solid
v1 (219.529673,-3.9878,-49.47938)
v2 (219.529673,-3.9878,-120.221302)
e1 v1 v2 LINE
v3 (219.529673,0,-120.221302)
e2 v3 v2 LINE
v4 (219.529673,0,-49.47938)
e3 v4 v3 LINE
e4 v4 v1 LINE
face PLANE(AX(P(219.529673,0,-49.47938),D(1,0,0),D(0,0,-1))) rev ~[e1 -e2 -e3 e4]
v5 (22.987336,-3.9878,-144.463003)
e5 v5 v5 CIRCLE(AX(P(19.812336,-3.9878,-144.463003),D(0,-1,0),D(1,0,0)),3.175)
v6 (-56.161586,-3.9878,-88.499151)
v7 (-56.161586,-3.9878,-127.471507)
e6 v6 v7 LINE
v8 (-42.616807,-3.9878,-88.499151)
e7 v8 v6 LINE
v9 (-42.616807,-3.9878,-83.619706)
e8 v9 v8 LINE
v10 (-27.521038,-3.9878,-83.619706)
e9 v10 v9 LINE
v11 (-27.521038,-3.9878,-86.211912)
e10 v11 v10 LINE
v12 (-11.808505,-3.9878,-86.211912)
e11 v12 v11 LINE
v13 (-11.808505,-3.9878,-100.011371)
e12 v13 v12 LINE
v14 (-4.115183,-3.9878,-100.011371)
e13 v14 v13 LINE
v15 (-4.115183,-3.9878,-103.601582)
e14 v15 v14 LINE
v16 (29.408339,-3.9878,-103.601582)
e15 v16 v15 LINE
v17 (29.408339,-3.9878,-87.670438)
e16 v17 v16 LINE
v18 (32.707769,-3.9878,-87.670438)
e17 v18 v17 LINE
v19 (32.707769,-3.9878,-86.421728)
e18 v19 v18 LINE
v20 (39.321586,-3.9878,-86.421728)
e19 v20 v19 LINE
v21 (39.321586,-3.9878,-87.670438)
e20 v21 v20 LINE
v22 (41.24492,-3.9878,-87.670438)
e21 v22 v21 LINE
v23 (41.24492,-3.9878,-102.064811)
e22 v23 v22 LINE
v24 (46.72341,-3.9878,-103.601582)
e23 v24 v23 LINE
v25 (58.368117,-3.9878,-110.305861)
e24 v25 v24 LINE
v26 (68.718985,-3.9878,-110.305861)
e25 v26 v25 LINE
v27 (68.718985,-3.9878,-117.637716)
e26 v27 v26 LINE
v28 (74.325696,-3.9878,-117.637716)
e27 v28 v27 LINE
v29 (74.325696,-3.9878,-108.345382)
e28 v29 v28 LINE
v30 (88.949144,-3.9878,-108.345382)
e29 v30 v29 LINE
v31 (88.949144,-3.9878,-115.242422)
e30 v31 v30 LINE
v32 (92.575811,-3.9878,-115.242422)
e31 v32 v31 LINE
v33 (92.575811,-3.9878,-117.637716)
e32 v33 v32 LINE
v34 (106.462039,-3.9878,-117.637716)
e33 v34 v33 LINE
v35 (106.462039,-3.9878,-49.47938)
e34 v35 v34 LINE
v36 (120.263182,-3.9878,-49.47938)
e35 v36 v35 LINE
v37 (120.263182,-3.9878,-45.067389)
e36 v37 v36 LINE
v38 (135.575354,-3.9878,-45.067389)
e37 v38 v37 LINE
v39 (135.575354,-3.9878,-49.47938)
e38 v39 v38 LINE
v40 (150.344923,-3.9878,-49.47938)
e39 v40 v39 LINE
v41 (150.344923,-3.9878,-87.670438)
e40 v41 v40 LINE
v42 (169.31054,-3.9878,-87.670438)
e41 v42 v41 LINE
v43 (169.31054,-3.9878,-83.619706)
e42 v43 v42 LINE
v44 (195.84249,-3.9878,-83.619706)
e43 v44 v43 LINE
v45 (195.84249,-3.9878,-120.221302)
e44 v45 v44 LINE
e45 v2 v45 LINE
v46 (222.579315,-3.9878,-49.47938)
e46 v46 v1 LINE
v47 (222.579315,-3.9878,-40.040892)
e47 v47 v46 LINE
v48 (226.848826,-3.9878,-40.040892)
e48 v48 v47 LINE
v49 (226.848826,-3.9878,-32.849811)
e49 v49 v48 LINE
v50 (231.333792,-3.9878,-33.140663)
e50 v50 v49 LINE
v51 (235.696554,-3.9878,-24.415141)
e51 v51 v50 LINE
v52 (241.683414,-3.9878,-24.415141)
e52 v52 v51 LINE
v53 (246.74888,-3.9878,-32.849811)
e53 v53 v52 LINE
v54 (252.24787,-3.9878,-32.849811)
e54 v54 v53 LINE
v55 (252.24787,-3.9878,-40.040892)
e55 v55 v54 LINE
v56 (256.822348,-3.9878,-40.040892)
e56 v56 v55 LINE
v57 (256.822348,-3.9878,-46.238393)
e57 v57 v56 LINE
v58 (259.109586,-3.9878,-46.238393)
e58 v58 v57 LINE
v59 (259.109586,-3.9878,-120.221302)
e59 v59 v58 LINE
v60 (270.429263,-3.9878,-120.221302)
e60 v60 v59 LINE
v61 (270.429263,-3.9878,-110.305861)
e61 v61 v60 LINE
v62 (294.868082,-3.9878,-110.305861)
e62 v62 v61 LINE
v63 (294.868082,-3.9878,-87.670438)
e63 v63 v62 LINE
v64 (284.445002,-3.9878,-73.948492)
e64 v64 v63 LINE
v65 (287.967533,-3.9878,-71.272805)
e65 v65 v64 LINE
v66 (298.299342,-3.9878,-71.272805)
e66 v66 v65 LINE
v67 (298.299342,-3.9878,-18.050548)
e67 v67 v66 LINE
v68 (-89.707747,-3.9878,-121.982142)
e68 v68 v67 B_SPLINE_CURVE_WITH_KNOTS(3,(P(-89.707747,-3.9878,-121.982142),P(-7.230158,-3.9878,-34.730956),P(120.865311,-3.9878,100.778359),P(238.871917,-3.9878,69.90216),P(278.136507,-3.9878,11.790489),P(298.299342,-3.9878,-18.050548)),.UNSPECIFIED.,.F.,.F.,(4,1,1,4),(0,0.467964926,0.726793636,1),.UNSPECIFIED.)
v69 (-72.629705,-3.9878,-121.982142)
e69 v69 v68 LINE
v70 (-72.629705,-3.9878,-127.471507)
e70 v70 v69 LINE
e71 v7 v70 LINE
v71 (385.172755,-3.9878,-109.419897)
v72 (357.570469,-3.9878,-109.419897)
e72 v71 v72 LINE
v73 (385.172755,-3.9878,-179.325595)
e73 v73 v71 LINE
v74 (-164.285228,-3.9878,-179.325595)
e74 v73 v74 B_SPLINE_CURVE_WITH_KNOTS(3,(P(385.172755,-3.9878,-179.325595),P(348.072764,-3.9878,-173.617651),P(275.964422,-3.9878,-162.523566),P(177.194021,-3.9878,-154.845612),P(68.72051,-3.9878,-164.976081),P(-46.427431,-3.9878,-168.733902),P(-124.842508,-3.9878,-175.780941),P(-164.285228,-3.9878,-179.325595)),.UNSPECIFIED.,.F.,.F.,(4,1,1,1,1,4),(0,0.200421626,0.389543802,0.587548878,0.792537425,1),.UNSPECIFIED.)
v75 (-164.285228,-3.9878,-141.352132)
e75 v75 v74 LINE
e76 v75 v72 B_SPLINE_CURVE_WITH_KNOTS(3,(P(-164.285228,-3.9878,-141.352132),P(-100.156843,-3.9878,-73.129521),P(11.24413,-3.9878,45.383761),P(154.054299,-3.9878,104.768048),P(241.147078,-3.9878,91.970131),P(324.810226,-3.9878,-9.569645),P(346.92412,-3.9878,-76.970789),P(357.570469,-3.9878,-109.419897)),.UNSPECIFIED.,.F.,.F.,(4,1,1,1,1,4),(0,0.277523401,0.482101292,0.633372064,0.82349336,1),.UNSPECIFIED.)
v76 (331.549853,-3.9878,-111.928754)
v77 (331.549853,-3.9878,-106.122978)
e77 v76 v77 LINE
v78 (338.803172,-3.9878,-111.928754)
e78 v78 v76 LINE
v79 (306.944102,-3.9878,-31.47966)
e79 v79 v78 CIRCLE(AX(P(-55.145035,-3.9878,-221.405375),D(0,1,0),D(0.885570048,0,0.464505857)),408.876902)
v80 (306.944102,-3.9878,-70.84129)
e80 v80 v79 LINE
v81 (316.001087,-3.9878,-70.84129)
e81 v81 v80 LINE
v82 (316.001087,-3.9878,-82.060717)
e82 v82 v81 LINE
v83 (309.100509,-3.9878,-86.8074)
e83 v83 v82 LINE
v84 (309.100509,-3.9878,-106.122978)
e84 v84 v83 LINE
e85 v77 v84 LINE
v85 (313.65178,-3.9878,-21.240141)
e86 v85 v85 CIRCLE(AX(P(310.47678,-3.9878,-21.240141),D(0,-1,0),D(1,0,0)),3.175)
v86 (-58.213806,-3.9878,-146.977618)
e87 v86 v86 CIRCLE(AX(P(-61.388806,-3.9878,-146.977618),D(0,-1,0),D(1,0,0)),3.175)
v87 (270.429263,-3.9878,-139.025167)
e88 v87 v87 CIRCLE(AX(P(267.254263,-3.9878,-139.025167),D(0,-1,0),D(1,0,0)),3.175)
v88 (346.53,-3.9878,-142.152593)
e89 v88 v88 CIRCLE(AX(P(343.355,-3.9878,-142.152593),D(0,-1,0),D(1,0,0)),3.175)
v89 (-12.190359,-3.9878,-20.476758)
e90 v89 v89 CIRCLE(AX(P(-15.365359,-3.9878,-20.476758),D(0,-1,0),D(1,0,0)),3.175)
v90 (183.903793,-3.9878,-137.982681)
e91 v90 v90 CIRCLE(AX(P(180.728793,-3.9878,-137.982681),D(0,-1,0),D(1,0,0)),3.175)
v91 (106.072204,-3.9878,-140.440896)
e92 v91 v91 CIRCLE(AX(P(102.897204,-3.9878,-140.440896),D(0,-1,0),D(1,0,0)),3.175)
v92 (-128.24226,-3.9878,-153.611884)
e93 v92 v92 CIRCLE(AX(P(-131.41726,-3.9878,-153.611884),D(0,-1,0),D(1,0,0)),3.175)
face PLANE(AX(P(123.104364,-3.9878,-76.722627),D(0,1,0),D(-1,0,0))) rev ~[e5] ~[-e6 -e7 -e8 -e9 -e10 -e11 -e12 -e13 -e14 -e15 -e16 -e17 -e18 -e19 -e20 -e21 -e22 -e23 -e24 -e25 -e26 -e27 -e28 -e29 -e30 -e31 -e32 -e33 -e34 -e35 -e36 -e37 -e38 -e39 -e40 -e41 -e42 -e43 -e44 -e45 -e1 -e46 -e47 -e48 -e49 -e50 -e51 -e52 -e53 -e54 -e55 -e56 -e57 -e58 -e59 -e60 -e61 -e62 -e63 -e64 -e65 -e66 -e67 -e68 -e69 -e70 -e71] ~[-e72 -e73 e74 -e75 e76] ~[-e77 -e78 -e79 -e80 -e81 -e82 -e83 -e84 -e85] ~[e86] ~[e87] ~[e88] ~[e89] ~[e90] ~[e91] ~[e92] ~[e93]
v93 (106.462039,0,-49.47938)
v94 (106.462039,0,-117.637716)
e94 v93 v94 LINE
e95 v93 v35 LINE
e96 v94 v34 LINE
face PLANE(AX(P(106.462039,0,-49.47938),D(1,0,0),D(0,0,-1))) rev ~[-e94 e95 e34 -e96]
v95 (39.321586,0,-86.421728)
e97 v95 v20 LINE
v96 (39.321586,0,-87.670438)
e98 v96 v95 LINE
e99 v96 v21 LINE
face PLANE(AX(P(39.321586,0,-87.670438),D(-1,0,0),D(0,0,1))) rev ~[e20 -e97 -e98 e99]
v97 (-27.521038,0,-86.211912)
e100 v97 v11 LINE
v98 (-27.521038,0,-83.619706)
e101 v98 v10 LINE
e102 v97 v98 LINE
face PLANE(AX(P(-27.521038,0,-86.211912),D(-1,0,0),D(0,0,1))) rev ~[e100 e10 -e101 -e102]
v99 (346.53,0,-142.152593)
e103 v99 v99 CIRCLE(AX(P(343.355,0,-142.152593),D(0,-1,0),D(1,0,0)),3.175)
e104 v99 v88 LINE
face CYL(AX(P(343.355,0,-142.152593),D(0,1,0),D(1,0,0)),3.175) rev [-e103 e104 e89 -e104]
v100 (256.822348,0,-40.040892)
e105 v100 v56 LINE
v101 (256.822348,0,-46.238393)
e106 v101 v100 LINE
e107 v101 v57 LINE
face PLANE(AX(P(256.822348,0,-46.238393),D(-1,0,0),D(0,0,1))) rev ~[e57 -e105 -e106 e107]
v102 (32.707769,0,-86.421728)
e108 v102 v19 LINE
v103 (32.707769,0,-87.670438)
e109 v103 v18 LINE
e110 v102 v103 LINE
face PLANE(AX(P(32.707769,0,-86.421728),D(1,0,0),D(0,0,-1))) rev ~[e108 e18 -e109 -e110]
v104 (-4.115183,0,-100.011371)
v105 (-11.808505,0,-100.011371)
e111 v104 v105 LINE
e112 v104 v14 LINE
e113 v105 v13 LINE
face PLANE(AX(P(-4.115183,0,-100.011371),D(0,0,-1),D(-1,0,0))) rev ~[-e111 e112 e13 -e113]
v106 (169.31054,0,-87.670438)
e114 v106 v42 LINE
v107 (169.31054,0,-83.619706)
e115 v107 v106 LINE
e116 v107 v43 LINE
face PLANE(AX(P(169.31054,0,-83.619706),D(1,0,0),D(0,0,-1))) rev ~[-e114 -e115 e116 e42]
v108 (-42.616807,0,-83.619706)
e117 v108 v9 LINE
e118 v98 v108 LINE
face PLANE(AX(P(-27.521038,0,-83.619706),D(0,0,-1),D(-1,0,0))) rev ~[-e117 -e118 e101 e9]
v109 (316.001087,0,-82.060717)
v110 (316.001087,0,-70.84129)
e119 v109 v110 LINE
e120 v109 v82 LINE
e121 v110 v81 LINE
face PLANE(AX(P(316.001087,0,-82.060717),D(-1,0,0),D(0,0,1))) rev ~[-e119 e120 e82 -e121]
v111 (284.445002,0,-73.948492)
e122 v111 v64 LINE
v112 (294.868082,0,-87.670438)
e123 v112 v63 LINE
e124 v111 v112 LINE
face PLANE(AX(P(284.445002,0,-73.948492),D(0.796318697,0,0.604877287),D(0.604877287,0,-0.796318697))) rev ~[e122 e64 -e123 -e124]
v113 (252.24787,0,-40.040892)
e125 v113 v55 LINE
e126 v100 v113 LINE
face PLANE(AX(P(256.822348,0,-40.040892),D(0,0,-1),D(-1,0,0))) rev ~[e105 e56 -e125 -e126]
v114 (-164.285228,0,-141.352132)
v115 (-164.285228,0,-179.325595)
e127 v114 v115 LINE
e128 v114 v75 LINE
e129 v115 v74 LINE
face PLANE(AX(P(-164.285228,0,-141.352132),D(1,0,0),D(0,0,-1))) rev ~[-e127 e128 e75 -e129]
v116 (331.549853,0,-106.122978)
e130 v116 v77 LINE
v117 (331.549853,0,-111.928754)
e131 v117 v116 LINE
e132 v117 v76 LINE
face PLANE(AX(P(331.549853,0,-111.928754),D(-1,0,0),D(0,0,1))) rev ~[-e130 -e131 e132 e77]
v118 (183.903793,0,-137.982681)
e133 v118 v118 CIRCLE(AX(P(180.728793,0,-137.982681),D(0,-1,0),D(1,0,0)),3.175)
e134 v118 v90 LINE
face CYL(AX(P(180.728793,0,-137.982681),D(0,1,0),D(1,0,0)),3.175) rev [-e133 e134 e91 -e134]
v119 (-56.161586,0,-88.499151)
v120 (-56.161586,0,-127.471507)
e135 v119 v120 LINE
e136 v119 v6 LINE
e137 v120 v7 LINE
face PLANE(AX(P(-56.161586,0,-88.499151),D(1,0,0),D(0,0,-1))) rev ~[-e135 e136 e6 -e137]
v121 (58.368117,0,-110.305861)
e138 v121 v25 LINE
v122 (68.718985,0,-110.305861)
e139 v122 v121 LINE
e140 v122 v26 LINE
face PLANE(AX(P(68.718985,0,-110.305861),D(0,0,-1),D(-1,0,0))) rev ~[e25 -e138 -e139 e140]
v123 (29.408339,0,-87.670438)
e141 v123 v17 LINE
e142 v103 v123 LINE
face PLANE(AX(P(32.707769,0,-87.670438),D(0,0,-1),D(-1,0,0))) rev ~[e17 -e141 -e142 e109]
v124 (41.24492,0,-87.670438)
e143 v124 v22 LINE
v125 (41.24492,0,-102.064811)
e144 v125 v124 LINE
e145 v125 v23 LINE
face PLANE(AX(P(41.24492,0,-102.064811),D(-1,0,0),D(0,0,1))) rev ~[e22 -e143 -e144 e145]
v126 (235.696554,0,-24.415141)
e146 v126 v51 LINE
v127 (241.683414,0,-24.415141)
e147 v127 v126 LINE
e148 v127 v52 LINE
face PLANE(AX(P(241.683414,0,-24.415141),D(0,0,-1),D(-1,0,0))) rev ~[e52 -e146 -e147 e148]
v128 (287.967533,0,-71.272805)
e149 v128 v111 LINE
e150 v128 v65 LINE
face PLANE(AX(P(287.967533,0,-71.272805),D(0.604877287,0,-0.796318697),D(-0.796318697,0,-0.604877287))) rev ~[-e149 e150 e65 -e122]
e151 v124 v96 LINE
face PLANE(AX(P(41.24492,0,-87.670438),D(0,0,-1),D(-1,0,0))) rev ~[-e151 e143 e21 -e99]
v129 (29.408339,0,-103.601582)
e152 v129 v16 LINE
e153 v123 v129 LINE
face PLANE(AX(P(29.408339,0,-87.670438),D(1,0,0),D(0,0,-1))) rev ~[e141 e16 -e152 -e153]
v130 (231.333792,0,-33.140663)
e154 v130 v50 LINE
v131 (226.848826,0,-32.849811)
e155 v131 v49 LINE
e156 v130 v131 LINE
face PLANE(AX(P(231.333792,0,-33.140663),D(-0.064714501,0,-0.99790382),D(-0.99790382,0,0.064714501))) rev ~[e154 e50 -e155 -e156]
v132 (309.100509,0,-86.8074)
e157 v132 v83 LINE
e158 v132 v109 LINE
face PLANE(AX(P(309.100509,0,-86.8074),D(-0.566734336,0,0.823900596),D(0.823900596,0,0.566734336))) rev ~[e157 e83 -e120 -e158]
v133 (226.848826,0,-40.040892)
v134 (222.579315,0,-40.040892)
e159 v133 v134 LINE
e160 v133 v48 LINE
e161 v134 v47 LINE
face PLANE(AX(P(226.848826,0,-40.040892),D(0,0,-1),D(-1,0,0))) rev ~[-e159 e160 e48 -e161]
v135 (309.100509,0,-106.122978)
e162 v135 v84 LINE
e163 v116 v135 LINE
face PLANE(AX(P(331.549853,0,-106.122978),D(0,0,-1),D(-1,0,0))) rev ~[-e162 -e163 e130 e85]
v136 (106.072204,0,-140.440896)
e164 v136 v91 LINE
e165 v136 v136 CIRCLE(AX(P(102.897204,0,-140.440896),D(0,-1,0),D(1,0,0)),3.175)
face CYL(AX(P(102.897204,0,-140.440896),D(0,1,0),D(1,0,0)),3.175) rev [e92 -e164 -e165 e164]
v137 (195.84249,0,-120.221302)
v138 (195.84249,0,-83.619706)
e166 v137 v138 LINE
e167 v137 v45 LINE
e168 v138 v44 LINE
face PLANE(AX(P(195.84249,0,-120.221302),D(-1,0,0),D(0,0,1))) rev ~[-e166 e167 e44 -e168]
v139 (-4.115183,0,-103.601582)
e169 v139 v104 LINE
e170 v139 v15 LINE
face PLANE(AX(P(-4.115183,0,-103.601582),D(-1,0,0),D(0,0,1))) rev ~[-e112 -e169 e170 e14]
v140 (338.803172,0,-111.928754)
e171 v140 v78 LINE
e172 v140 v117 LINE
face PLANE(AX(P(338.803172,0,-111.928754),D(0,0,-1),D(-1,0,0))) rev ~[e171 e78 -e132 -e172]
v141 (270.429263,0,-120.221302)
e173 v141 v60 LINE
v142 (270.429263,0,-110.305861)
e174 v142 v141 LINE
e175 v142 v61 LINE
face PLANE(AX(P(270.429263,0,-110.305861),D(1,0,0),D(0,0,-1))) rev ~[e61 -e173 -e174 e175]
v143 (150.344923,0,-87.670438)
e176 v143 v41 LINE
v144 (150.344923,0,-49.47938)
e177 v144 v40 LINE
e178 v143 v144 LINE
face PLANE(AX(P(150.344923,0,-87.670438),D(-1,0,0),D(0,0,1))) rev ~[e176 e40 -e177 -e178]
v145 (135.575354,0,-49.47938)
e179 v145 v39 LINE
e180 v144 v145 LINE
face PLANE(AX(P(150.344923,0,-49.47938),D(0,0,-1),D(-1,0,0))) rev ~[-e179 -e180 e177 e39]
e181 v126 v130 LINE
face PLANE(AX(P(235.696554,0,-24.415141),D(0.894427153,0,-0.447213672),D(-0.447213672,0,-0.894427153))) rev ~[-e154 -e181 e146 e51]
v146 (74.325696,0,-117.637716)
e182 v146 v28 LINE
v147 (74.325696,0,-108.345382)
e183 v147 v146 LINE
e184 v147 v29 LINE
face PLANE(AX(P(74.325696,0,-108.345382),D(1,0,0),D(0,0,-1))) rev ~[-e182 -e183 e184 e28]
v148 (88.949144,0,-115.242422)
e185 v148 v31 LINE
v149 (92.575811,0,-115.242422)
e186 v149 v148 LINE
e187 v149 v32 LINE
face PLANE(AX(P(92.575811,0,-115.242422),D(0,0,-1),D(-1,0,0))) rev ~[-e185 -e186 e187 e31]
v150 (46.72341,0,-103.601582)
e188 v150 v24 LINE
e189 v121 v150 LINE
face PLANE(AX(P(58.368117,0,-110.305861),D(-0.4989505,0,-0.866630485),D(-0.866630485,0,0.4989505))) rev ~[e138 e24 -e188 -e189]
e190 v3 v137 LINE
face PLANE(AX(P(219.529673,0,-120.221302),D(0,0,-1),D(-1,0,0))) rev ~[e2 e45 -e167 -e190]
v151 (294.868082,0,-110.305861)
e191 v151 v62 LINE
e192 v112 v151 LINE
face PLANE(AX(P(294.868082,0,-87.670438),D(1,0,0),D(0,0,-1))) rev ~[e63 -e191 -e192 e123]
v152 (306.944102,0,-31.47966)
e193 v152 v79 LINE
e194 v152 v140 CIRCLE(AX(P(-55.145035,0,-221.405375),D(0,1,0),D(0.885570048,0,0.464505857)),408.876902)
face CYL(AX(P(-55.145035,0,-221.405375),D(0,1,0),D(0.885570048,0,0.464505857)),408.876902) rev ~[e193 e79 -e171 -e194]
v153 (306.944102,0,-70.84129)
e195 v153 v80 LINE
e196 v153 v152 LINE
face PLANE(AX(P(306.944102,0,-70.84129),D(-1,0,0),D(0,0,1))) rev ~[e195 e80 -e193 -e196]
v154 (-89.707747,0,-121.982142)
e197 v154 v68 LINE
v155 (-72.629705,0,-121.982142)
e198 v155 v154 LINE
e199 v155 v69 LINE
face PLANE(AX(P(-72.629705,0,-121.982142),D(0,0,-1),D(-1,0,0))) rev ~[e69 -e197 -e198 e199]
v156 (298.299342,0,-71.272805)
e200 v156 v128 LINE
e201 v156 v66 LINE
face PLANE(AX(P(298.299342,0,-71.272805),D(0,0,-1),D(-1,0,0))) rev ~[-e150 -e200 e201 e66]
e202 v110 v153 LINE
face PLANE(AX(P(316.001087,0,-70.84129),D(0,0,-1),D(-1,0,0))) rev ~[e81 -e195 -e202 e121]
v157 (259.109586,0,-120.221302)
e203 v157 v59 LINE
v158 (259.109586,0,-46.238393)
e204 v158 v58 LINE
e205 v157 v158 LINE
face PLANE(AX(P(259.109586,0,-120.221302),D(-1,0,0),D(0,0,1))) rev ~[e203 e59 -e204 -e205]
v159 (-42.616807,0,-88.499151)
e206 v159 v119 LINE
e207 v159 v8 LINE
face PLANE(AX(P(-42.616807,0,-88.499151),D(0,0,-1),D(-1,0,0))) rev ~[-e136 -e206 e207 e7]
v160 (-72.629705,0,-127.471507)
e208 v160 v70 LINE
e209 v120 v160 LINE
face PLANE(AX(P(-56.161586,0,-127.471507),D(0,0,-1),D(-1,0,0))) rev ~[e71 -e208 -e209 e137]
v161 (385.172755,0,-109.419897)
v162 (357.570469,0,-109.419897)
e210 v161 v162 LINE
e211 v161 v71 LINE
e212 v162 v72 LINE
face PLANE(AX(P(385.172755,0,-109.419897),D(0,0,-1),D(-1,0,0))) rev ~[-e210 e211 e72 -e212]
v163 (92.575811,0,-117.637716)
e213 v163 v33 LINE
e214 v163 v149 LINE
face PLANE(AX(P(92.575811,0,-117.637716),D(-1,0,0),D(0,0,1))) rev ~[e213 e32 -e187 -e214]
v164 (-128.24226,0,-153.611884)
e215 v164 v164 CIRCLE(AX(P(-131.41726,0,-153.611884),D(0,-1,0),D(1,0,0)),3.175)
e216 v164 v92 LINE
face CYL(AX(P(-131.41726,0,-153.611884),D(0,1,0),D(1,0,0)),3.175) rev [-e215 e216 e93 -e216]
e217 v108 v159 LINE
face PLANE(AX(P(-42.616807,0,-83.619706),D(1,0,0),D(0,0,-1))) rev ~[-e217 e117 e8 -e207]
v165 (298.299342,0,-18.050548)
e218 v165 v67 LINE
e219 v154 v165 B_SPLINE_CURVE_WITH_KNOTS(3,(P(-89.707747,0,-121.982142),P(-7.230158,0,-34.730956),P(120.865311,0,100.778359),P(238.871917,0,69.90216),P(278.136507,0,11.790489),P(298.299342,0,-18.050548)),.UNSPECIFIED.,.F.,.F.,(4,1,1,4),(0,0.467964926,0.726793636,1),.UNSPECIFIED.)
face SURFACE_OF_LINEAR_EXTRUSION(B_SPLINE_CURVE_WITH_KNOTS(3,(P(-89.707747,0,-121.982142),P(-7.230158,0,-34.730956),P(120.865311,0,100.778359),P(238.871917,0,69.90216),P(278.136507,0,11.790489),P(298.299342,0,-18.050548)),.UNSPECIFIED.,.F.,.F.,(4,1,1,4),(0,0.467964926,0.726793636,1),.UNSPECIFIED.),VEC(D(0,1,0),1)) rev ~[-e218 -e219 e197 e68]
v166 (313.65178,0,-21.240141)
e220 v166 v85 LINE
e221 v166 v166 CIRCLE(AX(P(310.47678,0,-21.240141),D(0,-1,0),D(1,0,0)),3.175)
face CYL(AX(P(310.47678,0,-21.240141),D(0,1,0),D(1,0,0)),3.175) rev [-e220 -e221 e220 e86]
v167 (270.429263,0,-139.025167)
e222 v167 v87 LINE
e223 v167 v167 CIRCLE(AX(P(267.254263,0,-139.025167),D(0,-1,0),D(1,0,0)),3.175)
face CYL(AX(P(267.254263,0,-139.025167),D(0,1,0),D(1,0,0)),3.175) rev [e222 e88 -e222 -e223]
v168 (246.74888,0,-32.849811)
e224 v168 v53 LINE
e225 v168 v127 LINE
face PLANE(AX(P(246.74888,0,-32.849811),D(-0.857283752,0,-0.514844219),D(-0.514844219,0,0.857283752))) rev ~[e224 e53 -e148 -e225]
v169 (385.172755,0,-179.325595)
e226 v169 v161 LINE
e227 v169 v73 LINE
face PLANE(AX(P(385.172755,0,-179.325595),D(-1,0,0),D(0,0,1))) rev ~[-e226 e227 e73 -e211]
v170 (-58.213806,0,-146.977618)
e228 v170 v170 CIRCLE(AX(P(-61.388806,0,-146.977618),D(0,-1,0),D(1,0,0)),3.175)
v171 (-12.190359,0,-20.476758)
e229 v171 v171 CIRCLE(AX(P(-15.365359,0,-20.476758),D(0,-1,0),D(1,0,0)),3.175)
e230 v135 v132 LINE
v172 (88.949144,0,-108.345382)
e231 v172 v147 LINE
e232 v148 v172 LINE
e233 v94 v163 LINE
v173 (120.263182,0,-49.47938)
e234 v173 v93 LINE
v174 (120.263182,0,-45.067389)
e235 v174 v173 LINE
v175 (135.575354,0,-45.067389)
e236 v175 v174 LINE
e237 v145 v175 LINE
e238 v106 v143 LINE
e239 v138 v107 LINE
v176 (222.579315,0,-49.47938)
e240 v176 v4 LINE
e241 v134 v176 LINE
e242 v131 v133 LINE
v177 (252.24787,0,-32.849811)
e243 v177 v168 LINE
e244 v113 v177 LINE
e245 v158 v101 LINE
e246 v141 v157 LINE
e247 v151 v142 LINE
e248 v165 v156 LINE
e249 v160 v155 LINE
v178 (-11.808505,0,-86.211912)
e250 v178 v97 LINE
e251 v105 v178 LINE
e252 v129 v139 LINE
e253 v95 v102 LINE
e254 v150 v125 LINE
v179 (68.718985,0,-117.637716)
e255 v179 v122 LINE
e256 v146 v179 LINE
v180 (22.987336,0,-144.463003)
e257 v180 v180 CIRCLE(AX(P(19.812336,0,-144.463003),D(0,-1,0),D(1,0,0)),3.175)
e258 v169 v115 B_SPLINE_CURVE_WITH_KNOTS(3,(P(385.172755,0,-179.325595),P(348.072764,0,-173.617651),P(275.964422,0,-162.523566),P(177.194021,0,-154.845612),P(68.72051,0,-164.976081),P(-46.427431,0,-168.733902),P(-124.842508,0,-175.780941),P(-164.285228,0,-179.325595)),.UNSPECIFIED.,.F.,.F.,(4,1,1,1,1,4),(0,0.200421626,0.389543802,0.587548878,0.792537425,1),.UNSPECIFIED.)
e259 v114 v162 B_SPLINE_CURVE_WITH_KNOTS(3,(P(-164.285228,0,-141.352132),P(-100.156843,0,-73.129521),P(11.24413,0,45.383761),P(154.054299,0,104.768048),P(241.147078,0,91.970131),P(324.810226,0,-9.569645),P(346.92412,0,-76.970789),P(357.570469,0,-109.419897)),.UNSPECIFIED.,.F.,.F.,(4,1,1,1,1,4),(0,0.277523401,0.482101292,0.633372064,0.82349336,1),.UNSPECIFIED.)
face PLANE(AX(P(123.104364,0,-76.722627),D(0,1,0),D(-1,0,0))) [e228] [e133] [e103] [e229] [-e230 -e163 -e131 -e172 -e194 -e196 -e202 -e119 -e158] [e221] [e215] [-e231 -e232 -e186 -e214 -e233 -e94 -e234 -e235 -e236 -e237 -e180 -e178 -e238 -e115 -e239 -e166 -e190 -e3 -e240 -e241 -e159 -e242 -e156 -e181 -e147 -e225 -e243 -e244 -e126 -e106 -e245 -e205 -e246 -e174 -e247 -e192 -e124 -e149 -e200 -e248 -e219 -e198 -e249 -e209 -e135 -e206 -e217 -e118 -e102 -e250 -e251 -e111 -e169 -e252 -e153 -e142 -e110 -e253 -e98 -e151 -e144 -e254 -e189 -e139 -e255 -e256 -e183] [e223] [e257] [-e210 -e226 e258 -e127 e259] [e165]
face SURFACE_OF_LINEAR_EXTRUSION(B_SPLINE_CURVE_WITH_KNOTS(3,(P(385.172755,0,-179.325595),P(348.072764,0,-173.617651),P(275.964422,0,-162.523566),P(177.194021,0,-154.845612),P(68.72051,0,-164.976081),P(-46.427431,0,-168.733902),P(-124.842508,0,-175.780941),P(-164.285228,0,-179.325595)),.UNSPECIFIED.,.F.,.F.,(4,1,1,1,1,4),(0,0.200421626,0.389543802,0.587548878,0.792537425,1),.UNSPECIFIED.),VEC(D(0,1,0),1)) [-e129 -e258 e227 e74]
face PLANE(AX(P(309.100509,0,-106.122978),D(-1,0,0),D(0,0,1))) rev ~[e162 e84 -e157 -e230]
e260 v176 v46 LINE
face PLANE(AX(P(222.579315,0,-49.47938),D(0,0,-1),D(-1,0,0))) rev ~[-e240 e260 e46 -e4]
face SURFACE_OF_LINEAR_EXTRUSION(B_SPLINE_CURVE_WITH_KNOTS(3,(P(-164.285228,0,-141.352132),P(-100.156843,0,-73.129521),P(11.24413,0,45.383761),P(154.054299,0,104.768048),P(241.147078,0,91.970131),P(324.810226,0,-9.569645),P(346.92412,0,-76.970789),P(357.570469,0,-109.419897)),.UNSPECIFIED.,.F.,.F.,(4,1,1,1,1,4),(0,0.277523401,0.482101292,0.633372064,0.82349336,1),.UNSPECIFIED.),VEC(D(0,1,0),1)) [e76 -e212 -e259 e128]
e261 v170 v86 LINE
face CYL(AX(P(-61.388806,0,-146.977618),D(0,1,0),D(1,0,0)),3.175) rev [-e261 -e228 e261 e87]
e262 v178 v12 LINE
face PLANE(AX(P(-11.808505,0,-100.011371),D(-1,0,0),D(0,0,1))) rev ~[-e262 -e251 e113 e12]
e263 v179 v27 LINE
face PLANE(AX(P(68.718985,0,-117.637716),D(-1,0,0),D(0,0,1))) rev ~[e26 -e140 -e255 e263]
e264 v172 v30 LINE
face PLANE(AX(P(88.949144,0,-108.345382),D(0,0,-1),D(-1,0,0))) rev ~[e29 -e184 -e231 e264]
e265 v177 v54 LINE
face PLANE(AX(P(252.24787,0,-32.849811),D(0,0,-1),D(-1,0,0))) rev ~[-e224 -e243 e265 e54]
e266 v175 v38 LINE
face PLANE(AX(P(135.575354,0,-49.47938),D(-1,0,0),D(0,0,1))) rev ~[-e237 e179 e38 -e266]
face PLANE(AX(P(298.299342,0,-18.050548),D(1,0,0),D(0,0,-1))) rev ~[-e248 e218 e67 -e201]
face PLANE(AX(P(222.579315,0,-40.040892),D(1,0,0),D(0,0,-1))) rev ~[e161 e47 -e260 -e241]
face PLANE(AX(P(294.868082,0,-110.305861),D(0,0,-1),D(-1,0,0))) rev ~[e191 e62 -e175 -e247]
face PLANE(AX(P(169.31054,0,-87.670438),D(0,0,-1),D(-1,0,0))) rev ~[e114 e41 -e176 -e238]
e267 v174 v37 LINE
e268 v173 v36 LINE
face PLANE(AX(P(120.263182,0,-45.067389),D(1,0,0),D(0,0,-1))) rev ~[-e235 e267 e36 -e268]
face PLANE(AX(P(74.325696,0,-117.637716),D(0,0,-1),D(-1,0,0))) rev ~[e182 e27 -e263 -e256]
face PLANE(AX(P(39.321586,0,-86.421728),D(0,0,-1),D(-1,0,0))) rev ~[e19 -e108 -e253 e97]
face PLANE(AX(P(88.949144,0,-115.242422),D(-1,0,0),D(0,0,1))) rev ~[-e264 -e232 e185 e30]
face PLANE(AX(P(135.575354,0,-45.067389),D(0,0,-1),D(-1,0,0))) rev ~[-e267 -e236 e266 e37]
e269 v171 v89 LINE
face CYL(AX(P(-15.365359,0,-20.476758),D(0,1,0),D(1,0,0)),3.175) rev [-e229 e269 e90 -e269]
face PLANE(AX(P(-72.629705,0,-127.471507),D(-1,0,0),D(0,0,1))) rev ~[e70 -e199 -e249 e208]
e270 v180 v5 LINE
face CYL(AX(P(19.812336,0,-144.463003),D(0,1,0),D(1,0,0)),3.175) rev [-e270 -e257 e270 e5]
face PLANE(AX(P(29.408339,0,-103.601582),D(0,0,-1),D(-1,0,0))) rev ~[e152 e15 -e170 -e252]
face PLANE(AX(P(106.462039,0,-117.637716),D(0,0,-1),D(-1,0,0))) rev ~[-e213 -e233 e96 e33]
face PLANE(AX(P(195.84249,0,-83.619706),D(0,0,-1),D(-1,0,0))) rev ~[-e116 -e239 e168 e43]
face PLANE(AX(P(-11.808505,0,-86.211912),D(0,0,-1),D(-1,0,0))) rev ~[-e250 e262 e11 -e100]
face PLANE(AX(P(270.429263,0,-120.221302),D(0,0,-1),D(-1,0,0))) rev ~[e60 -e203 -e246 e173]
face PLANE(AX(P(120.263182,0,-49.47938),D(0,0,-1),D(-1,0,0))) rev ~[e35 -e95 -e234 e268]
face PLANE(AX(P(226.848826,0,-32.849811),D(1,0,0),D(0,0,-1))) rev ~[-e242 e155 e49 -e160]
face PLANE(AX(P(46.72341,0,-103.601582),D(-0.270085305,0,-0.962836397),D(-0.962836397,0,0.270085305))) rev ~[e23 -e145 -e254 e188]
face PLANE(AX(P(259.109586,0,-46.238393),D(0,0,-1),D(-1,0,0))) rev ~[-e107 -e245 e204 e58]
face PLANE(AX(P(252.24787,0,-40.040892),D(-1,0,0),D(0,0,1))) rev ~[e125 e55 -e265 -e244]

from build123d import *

# Parameters (mm, degrees)
F0_R     = 3.175
F1_DEPTH = 3.9878


with BuildPart() as f1:
    # F0 (on Front) → F1 (new body)
    with BuildSketch(Plane.XZ):
        with BuildLine():
            add(Edge.make_bspline(
                [(-164.2852276564, -141.3521319628), (-100.156843355, -73.1295208329), (11.2441296329, 45.3837606483), (154.0542989198, 104.7680480893), (241.1470776874, 91.9701309431), (324.8102257045, -9.5696449042), (346.9241198254, -76.9707890806), (357.5704693794, -109.4198971987)],
                knots=[0, 0, 0, 0, 0.2775234013, 0.4821012921, 0.6333720642, 0.8234933595, 1, 1, 1, 1], degree=3))
            Line((-164.2852276564, -141.3521319628), (-164.2852276564, -179.3255954981))
            add(Edge.make_bspline(
                [(385.1727545261, -179.3255954981), (348.0727643508, -173.6176506001), (275.9644217328, -162.5235655503), (177.1940206759, -154.8456122093), (68.7205096932, -164.9760811802), (-46.4274313326, -168.7339018432), (-124.8425084257, -175.7809407358), (-164.2852276564, -179.3255954981)],
                knots=[0, 0, 0, 0, 0.2004216256, 0.3895438025, 0.5875488784, 0.7925374253, 1, 1, 1, 1], degree=3))
            Line((385.1727545261, -179.3255954981), (385.1727545261, -139.626070857))
            Line((385.1727545261, -139.626070857), (385.1727545261, -109.4198971987))
            Line((385.1727545261, -109.4198971987), (357.5704693794, -109.4198971987))
        make_face()
        with Locations((-131.4172595739, -153.6118835211)):
            Circle(F0_R, mode=Mode.SUBTRACT)
        with Locations((-61.3888055086, -146.9776183367)):
            Circle(F0_R, mode=Mode.SUBTRACT)
        with Locations((19.8123361915, -144.4630026817)):
            Circle(F0_R, mode=Mode.SUBTRACT)
        with Locations((102.8972044587, -140.4408961535)):
            Circle(F0_R, mode=Mode.SUBTRACT)
        with Locations((180.7287931442, -137.9826813936)):
            Circle(F0_R, mode=Mode.SUBTRACT)
        with Locations((267.2542631626, -139.0251666307)):
            Circle(F0_R, mode=Mode.SUBTRACT)
        with Locations((343.3550000191, -142.1525925398)):
            Circle(F0_R, mode=Mode.SUBTRACT)
        with BuildLine():
            Line((306.9441020489, -70.8412900567), (306.9441020489, -31.4796595851))
            ThreePointArc((306.9441020489, -31.4796595851), (325.007737738, -70.8590701113), (338.8031721115, -111.9287535548))
            Line((338.8031721115, -111.9287535548), (331.5498530865, -111.9287535548))
            Line((331.5498530865, -111.9287535548), (331.5498530865, -106.1229780316))
            Line((331.5498530865, -106.1229780316), (309.1005086899, -106.1229780316))
            Line((309.1005086899, -106.1229780316), (309.1005086899, -86.8073999882))
            Line((309.1005086899, -86.8073999882), (316.0010874271, -82.0607170463))
            Line((316.0010874271, -82.0607170463), (316.0010874271, -70.8412900567))
            Line((316.0010874271, -70.8412900567), (306.9441020489, -70.8412900567))
        make_face(mode=Mode.SUBTRACT)
        with Locations((-15.3653593734, -20.4767584801)):
            Circle(F0_R, mode=Mode.SUBTRACT)
        with BuildLine():
            Line((-72.6297050714, -121.9821423292), (-89.7077471018, -121.9821423292))
            add(Edge.make_bspline(
                [(-89.7077471018, -121.9821423292), (-7.2301581396, -34.7309562714), (120.865310975, 100.7783590411), (238.8719165352, 69.902159723), (278.1365065251, 11.790489141), (298.2993423939, -18.0505476892)],
                knots=[0, 0, 0, 0, 0.4679649263, 0.7267936359, 1, 1, 1, 1], degree=3))
            Line((298.2993423939, -18.0505476892), (298.2993423939, -71.2728053331))
            Line((298.2993423939, -71.2728053331), (287.9675328732, -71.2728053331))
            Line((287.9675328732, -71.2728053331), (284.4450016498, -73.9484917618))
            Line((284.4450016498, -73.9484917618), (294.8680818081, -87.6704379916))
            Line((294.8680818081, -87.6704379916), (294.8680818081, -110.3058606386))
            Line((294.8680818081, -110.3058606386), (270.4292631626, -110.3058606386))
            Line((270.4292631626, -110.3058606386), (270.4292631626, -120.2213019133))
            Line((270.4292631626, -120.2213019133), (259.1095864773, -120.2213019133))
            Line((259.1095864773, -120.2213019133), (259.1095864773, -46.2383925915))
            Line((259.1095864773, -46.2383925915), (256.822347641, -46.2383925915))
            Line((256.822347641, -46.2383925915), (256.822347641, -40.0408916175))
            Line((256.822347641, -40.0408916175), (252.2478699684, -40.0408916175))
            Line((252.2478699684, -40.0408916175), (252.2478699684, -32.8498110175))
            Line((252.2478699684, -32.8498110175), (246.7488795519, -32.8498110175))
            Line((246.7488795519, -32.8498110175), (241.6834142365, -24.4151409715))
            Line((241.6834142365, -24.4151409715), (235.696554184, -24.4151409715))
            Line((235.696554184, -24.4151409715), (231.3337922096, -33.1406630576))
            Line((231.3337922096, -33.1406630576), (226.8488258123, -32.8498110175))
            Line((226.8488258123, -32.8498110175), (226.8488258123, -40.0408916175))
            Line((226.8488258123, -40.0408916175), (222.5793153048, -40.0408916175))
            Line((222.5793153048, -40.0408916175), (222.5793153048, -44.9229478836))
            Line((222.5793153048, -44.9229478836), (222.5793153048, -49.47938025))
            Line((222.5793153048, -49.47938025), (219.5296734571, -49.47938025))
            Line((219.5296734571, -49.47938025), (219.5296734571, -120.2213019133))
            Line((219.5296734571, -120.2213019133), (195.8424896002, -120.2213019133))
            Line((195.8424896002, -120.2213019133), (195.8424896002, -83.6197063327))
            Line((195.8424896002, -83.6197063327), (169.3105399609, -83.6197063327))
            Line((169.3105399609, -83.6197063327), (169.3105399609, -87.6704379916))
            Line((169.3105399609, -87.6704379916), (150.3449231386, -87.6704379916))
            Line((150.3449231386, -87.6704379916), (150.3449231386, -49.47938025))
            Line((150.3449231386, -49.47938025), (135.5753540993, -49.47938025))
            Line((135.5753540993, -49.47938025), (135.5753540993, -45.0673885643))
            Line((135.5753540993, -45.0673885643), (120.2631816268, -45.0673885643))
            Line((120.2631816268, -45.0673885643), (120.2631816268, -49.47938025))
            Line((120.2631816268, -49.47938025), (106.4620390534, -49.47938025))
            Line((106.4620390534, -49.47938025), (106.4620390534, -117.6377162337))
            Line((106.4620390534, -117.6377162337), (92.5758108497, -117.6377162337))
            Line((92.5758108497, -117.6377162337), (92.5758108497, -115.242421627))
            Line((92.5758108497, -115.242421627), (88.9491438866, -115.242421627))
            Line((88.9491438866, -115.242421627), (88.9491438866, -108.3453819156))
            Line((88.9491438866, -108.3453819156), (74.3256956339, -108.3453819156))
            Line((74.3256956339, -108.3453819156), (74.3256956339, -117.6377162337))
            Line((74.3256956339, -117.6377162337), (68.7189847231, -117.6377162337))
            Line((68.7189847231, -117.6377162337), (68.7189847231, -110.3058606386))
            Line((68.7189847231, -110.3058606386), (58.3681166172, -110.3058606386))
            Line((58.3681166172, -110.3058606386), (46.7234104872, -103.6015823483))
            Line((46.7234104872, -103.6015823483), (41.2449203432, -102.0648106933))
            Line((41.2449203432, -102.0648106933), (41.2449203432, -87.6704379916))
            Line((41.2449203432, -87.6704379916), (39.3215864897, -87.6704379916))
            Line((39.3215864897, -87.6704379916), (39.3215864897, -86.4217281342))
            Line((39.3215864897, -86.4217281342), (32.7077694237, -86.4217281342))
            Line((32.7077694237, -86.4217281342), (32.7077694237, -87.6704379916))
            Line((32.7077694237, -87.6704379916), (29.408339411, -87.6704379916))
            Line((29.408339411, -87.6704379916), (29.408339411, -103.6015823483))
            Line((29.408339411, -103.6015823483), (25.6323218346, -103.6015823483))
            Line((25.6323218346, -103.6015823483), (-4.1151833721, -103.6015823483))
            Line((-4.1151833721, -103.6015823483), (-4.1151833721, -100.0113710761))
            Line((-4.1151833721, -100.0113710761), (-11.8085052818, -100.0113710761))
            Line((-11.8085052818, -100.0113710761), (-11.8085052818, -86.211912334))
            Line((-11.8085052818, -86.211912334), (-27.5210384279, -86.211912334))
            Line((-27.5210384279, -86.211912334), (-27.5210384279, -83.6197063327))
            Line((-27.5210384279, -83.6197063327), (-42.6168069243, -83.6197063327))
            Line((-42.6168069243, -83.6197063327), (-42.6168069243, -88.4991511703))
            Line((-42.6168069243, -88.4991511703), (-56.1615861952, -88.4991511703))
            Line((-56.1615861952, -88.4991511703), (-56.1615861952, -127.4715065956))
            Line((-56.1615861952, -127.4715065956), (-72.6297050714, -127.4715065956))
            Line((-72.6297050714, -127.4715065956), (-72.6297050714, -121.9821423292))
        make_face(mode=Mode.SUBTRACT)
        with Locations((310.4767799377, -21.2401409715)):
            Circle(F0_R, mode=Mode.SUBTRACT)
    extrude(amount=F1_DEPTH)


solid = f1.part
